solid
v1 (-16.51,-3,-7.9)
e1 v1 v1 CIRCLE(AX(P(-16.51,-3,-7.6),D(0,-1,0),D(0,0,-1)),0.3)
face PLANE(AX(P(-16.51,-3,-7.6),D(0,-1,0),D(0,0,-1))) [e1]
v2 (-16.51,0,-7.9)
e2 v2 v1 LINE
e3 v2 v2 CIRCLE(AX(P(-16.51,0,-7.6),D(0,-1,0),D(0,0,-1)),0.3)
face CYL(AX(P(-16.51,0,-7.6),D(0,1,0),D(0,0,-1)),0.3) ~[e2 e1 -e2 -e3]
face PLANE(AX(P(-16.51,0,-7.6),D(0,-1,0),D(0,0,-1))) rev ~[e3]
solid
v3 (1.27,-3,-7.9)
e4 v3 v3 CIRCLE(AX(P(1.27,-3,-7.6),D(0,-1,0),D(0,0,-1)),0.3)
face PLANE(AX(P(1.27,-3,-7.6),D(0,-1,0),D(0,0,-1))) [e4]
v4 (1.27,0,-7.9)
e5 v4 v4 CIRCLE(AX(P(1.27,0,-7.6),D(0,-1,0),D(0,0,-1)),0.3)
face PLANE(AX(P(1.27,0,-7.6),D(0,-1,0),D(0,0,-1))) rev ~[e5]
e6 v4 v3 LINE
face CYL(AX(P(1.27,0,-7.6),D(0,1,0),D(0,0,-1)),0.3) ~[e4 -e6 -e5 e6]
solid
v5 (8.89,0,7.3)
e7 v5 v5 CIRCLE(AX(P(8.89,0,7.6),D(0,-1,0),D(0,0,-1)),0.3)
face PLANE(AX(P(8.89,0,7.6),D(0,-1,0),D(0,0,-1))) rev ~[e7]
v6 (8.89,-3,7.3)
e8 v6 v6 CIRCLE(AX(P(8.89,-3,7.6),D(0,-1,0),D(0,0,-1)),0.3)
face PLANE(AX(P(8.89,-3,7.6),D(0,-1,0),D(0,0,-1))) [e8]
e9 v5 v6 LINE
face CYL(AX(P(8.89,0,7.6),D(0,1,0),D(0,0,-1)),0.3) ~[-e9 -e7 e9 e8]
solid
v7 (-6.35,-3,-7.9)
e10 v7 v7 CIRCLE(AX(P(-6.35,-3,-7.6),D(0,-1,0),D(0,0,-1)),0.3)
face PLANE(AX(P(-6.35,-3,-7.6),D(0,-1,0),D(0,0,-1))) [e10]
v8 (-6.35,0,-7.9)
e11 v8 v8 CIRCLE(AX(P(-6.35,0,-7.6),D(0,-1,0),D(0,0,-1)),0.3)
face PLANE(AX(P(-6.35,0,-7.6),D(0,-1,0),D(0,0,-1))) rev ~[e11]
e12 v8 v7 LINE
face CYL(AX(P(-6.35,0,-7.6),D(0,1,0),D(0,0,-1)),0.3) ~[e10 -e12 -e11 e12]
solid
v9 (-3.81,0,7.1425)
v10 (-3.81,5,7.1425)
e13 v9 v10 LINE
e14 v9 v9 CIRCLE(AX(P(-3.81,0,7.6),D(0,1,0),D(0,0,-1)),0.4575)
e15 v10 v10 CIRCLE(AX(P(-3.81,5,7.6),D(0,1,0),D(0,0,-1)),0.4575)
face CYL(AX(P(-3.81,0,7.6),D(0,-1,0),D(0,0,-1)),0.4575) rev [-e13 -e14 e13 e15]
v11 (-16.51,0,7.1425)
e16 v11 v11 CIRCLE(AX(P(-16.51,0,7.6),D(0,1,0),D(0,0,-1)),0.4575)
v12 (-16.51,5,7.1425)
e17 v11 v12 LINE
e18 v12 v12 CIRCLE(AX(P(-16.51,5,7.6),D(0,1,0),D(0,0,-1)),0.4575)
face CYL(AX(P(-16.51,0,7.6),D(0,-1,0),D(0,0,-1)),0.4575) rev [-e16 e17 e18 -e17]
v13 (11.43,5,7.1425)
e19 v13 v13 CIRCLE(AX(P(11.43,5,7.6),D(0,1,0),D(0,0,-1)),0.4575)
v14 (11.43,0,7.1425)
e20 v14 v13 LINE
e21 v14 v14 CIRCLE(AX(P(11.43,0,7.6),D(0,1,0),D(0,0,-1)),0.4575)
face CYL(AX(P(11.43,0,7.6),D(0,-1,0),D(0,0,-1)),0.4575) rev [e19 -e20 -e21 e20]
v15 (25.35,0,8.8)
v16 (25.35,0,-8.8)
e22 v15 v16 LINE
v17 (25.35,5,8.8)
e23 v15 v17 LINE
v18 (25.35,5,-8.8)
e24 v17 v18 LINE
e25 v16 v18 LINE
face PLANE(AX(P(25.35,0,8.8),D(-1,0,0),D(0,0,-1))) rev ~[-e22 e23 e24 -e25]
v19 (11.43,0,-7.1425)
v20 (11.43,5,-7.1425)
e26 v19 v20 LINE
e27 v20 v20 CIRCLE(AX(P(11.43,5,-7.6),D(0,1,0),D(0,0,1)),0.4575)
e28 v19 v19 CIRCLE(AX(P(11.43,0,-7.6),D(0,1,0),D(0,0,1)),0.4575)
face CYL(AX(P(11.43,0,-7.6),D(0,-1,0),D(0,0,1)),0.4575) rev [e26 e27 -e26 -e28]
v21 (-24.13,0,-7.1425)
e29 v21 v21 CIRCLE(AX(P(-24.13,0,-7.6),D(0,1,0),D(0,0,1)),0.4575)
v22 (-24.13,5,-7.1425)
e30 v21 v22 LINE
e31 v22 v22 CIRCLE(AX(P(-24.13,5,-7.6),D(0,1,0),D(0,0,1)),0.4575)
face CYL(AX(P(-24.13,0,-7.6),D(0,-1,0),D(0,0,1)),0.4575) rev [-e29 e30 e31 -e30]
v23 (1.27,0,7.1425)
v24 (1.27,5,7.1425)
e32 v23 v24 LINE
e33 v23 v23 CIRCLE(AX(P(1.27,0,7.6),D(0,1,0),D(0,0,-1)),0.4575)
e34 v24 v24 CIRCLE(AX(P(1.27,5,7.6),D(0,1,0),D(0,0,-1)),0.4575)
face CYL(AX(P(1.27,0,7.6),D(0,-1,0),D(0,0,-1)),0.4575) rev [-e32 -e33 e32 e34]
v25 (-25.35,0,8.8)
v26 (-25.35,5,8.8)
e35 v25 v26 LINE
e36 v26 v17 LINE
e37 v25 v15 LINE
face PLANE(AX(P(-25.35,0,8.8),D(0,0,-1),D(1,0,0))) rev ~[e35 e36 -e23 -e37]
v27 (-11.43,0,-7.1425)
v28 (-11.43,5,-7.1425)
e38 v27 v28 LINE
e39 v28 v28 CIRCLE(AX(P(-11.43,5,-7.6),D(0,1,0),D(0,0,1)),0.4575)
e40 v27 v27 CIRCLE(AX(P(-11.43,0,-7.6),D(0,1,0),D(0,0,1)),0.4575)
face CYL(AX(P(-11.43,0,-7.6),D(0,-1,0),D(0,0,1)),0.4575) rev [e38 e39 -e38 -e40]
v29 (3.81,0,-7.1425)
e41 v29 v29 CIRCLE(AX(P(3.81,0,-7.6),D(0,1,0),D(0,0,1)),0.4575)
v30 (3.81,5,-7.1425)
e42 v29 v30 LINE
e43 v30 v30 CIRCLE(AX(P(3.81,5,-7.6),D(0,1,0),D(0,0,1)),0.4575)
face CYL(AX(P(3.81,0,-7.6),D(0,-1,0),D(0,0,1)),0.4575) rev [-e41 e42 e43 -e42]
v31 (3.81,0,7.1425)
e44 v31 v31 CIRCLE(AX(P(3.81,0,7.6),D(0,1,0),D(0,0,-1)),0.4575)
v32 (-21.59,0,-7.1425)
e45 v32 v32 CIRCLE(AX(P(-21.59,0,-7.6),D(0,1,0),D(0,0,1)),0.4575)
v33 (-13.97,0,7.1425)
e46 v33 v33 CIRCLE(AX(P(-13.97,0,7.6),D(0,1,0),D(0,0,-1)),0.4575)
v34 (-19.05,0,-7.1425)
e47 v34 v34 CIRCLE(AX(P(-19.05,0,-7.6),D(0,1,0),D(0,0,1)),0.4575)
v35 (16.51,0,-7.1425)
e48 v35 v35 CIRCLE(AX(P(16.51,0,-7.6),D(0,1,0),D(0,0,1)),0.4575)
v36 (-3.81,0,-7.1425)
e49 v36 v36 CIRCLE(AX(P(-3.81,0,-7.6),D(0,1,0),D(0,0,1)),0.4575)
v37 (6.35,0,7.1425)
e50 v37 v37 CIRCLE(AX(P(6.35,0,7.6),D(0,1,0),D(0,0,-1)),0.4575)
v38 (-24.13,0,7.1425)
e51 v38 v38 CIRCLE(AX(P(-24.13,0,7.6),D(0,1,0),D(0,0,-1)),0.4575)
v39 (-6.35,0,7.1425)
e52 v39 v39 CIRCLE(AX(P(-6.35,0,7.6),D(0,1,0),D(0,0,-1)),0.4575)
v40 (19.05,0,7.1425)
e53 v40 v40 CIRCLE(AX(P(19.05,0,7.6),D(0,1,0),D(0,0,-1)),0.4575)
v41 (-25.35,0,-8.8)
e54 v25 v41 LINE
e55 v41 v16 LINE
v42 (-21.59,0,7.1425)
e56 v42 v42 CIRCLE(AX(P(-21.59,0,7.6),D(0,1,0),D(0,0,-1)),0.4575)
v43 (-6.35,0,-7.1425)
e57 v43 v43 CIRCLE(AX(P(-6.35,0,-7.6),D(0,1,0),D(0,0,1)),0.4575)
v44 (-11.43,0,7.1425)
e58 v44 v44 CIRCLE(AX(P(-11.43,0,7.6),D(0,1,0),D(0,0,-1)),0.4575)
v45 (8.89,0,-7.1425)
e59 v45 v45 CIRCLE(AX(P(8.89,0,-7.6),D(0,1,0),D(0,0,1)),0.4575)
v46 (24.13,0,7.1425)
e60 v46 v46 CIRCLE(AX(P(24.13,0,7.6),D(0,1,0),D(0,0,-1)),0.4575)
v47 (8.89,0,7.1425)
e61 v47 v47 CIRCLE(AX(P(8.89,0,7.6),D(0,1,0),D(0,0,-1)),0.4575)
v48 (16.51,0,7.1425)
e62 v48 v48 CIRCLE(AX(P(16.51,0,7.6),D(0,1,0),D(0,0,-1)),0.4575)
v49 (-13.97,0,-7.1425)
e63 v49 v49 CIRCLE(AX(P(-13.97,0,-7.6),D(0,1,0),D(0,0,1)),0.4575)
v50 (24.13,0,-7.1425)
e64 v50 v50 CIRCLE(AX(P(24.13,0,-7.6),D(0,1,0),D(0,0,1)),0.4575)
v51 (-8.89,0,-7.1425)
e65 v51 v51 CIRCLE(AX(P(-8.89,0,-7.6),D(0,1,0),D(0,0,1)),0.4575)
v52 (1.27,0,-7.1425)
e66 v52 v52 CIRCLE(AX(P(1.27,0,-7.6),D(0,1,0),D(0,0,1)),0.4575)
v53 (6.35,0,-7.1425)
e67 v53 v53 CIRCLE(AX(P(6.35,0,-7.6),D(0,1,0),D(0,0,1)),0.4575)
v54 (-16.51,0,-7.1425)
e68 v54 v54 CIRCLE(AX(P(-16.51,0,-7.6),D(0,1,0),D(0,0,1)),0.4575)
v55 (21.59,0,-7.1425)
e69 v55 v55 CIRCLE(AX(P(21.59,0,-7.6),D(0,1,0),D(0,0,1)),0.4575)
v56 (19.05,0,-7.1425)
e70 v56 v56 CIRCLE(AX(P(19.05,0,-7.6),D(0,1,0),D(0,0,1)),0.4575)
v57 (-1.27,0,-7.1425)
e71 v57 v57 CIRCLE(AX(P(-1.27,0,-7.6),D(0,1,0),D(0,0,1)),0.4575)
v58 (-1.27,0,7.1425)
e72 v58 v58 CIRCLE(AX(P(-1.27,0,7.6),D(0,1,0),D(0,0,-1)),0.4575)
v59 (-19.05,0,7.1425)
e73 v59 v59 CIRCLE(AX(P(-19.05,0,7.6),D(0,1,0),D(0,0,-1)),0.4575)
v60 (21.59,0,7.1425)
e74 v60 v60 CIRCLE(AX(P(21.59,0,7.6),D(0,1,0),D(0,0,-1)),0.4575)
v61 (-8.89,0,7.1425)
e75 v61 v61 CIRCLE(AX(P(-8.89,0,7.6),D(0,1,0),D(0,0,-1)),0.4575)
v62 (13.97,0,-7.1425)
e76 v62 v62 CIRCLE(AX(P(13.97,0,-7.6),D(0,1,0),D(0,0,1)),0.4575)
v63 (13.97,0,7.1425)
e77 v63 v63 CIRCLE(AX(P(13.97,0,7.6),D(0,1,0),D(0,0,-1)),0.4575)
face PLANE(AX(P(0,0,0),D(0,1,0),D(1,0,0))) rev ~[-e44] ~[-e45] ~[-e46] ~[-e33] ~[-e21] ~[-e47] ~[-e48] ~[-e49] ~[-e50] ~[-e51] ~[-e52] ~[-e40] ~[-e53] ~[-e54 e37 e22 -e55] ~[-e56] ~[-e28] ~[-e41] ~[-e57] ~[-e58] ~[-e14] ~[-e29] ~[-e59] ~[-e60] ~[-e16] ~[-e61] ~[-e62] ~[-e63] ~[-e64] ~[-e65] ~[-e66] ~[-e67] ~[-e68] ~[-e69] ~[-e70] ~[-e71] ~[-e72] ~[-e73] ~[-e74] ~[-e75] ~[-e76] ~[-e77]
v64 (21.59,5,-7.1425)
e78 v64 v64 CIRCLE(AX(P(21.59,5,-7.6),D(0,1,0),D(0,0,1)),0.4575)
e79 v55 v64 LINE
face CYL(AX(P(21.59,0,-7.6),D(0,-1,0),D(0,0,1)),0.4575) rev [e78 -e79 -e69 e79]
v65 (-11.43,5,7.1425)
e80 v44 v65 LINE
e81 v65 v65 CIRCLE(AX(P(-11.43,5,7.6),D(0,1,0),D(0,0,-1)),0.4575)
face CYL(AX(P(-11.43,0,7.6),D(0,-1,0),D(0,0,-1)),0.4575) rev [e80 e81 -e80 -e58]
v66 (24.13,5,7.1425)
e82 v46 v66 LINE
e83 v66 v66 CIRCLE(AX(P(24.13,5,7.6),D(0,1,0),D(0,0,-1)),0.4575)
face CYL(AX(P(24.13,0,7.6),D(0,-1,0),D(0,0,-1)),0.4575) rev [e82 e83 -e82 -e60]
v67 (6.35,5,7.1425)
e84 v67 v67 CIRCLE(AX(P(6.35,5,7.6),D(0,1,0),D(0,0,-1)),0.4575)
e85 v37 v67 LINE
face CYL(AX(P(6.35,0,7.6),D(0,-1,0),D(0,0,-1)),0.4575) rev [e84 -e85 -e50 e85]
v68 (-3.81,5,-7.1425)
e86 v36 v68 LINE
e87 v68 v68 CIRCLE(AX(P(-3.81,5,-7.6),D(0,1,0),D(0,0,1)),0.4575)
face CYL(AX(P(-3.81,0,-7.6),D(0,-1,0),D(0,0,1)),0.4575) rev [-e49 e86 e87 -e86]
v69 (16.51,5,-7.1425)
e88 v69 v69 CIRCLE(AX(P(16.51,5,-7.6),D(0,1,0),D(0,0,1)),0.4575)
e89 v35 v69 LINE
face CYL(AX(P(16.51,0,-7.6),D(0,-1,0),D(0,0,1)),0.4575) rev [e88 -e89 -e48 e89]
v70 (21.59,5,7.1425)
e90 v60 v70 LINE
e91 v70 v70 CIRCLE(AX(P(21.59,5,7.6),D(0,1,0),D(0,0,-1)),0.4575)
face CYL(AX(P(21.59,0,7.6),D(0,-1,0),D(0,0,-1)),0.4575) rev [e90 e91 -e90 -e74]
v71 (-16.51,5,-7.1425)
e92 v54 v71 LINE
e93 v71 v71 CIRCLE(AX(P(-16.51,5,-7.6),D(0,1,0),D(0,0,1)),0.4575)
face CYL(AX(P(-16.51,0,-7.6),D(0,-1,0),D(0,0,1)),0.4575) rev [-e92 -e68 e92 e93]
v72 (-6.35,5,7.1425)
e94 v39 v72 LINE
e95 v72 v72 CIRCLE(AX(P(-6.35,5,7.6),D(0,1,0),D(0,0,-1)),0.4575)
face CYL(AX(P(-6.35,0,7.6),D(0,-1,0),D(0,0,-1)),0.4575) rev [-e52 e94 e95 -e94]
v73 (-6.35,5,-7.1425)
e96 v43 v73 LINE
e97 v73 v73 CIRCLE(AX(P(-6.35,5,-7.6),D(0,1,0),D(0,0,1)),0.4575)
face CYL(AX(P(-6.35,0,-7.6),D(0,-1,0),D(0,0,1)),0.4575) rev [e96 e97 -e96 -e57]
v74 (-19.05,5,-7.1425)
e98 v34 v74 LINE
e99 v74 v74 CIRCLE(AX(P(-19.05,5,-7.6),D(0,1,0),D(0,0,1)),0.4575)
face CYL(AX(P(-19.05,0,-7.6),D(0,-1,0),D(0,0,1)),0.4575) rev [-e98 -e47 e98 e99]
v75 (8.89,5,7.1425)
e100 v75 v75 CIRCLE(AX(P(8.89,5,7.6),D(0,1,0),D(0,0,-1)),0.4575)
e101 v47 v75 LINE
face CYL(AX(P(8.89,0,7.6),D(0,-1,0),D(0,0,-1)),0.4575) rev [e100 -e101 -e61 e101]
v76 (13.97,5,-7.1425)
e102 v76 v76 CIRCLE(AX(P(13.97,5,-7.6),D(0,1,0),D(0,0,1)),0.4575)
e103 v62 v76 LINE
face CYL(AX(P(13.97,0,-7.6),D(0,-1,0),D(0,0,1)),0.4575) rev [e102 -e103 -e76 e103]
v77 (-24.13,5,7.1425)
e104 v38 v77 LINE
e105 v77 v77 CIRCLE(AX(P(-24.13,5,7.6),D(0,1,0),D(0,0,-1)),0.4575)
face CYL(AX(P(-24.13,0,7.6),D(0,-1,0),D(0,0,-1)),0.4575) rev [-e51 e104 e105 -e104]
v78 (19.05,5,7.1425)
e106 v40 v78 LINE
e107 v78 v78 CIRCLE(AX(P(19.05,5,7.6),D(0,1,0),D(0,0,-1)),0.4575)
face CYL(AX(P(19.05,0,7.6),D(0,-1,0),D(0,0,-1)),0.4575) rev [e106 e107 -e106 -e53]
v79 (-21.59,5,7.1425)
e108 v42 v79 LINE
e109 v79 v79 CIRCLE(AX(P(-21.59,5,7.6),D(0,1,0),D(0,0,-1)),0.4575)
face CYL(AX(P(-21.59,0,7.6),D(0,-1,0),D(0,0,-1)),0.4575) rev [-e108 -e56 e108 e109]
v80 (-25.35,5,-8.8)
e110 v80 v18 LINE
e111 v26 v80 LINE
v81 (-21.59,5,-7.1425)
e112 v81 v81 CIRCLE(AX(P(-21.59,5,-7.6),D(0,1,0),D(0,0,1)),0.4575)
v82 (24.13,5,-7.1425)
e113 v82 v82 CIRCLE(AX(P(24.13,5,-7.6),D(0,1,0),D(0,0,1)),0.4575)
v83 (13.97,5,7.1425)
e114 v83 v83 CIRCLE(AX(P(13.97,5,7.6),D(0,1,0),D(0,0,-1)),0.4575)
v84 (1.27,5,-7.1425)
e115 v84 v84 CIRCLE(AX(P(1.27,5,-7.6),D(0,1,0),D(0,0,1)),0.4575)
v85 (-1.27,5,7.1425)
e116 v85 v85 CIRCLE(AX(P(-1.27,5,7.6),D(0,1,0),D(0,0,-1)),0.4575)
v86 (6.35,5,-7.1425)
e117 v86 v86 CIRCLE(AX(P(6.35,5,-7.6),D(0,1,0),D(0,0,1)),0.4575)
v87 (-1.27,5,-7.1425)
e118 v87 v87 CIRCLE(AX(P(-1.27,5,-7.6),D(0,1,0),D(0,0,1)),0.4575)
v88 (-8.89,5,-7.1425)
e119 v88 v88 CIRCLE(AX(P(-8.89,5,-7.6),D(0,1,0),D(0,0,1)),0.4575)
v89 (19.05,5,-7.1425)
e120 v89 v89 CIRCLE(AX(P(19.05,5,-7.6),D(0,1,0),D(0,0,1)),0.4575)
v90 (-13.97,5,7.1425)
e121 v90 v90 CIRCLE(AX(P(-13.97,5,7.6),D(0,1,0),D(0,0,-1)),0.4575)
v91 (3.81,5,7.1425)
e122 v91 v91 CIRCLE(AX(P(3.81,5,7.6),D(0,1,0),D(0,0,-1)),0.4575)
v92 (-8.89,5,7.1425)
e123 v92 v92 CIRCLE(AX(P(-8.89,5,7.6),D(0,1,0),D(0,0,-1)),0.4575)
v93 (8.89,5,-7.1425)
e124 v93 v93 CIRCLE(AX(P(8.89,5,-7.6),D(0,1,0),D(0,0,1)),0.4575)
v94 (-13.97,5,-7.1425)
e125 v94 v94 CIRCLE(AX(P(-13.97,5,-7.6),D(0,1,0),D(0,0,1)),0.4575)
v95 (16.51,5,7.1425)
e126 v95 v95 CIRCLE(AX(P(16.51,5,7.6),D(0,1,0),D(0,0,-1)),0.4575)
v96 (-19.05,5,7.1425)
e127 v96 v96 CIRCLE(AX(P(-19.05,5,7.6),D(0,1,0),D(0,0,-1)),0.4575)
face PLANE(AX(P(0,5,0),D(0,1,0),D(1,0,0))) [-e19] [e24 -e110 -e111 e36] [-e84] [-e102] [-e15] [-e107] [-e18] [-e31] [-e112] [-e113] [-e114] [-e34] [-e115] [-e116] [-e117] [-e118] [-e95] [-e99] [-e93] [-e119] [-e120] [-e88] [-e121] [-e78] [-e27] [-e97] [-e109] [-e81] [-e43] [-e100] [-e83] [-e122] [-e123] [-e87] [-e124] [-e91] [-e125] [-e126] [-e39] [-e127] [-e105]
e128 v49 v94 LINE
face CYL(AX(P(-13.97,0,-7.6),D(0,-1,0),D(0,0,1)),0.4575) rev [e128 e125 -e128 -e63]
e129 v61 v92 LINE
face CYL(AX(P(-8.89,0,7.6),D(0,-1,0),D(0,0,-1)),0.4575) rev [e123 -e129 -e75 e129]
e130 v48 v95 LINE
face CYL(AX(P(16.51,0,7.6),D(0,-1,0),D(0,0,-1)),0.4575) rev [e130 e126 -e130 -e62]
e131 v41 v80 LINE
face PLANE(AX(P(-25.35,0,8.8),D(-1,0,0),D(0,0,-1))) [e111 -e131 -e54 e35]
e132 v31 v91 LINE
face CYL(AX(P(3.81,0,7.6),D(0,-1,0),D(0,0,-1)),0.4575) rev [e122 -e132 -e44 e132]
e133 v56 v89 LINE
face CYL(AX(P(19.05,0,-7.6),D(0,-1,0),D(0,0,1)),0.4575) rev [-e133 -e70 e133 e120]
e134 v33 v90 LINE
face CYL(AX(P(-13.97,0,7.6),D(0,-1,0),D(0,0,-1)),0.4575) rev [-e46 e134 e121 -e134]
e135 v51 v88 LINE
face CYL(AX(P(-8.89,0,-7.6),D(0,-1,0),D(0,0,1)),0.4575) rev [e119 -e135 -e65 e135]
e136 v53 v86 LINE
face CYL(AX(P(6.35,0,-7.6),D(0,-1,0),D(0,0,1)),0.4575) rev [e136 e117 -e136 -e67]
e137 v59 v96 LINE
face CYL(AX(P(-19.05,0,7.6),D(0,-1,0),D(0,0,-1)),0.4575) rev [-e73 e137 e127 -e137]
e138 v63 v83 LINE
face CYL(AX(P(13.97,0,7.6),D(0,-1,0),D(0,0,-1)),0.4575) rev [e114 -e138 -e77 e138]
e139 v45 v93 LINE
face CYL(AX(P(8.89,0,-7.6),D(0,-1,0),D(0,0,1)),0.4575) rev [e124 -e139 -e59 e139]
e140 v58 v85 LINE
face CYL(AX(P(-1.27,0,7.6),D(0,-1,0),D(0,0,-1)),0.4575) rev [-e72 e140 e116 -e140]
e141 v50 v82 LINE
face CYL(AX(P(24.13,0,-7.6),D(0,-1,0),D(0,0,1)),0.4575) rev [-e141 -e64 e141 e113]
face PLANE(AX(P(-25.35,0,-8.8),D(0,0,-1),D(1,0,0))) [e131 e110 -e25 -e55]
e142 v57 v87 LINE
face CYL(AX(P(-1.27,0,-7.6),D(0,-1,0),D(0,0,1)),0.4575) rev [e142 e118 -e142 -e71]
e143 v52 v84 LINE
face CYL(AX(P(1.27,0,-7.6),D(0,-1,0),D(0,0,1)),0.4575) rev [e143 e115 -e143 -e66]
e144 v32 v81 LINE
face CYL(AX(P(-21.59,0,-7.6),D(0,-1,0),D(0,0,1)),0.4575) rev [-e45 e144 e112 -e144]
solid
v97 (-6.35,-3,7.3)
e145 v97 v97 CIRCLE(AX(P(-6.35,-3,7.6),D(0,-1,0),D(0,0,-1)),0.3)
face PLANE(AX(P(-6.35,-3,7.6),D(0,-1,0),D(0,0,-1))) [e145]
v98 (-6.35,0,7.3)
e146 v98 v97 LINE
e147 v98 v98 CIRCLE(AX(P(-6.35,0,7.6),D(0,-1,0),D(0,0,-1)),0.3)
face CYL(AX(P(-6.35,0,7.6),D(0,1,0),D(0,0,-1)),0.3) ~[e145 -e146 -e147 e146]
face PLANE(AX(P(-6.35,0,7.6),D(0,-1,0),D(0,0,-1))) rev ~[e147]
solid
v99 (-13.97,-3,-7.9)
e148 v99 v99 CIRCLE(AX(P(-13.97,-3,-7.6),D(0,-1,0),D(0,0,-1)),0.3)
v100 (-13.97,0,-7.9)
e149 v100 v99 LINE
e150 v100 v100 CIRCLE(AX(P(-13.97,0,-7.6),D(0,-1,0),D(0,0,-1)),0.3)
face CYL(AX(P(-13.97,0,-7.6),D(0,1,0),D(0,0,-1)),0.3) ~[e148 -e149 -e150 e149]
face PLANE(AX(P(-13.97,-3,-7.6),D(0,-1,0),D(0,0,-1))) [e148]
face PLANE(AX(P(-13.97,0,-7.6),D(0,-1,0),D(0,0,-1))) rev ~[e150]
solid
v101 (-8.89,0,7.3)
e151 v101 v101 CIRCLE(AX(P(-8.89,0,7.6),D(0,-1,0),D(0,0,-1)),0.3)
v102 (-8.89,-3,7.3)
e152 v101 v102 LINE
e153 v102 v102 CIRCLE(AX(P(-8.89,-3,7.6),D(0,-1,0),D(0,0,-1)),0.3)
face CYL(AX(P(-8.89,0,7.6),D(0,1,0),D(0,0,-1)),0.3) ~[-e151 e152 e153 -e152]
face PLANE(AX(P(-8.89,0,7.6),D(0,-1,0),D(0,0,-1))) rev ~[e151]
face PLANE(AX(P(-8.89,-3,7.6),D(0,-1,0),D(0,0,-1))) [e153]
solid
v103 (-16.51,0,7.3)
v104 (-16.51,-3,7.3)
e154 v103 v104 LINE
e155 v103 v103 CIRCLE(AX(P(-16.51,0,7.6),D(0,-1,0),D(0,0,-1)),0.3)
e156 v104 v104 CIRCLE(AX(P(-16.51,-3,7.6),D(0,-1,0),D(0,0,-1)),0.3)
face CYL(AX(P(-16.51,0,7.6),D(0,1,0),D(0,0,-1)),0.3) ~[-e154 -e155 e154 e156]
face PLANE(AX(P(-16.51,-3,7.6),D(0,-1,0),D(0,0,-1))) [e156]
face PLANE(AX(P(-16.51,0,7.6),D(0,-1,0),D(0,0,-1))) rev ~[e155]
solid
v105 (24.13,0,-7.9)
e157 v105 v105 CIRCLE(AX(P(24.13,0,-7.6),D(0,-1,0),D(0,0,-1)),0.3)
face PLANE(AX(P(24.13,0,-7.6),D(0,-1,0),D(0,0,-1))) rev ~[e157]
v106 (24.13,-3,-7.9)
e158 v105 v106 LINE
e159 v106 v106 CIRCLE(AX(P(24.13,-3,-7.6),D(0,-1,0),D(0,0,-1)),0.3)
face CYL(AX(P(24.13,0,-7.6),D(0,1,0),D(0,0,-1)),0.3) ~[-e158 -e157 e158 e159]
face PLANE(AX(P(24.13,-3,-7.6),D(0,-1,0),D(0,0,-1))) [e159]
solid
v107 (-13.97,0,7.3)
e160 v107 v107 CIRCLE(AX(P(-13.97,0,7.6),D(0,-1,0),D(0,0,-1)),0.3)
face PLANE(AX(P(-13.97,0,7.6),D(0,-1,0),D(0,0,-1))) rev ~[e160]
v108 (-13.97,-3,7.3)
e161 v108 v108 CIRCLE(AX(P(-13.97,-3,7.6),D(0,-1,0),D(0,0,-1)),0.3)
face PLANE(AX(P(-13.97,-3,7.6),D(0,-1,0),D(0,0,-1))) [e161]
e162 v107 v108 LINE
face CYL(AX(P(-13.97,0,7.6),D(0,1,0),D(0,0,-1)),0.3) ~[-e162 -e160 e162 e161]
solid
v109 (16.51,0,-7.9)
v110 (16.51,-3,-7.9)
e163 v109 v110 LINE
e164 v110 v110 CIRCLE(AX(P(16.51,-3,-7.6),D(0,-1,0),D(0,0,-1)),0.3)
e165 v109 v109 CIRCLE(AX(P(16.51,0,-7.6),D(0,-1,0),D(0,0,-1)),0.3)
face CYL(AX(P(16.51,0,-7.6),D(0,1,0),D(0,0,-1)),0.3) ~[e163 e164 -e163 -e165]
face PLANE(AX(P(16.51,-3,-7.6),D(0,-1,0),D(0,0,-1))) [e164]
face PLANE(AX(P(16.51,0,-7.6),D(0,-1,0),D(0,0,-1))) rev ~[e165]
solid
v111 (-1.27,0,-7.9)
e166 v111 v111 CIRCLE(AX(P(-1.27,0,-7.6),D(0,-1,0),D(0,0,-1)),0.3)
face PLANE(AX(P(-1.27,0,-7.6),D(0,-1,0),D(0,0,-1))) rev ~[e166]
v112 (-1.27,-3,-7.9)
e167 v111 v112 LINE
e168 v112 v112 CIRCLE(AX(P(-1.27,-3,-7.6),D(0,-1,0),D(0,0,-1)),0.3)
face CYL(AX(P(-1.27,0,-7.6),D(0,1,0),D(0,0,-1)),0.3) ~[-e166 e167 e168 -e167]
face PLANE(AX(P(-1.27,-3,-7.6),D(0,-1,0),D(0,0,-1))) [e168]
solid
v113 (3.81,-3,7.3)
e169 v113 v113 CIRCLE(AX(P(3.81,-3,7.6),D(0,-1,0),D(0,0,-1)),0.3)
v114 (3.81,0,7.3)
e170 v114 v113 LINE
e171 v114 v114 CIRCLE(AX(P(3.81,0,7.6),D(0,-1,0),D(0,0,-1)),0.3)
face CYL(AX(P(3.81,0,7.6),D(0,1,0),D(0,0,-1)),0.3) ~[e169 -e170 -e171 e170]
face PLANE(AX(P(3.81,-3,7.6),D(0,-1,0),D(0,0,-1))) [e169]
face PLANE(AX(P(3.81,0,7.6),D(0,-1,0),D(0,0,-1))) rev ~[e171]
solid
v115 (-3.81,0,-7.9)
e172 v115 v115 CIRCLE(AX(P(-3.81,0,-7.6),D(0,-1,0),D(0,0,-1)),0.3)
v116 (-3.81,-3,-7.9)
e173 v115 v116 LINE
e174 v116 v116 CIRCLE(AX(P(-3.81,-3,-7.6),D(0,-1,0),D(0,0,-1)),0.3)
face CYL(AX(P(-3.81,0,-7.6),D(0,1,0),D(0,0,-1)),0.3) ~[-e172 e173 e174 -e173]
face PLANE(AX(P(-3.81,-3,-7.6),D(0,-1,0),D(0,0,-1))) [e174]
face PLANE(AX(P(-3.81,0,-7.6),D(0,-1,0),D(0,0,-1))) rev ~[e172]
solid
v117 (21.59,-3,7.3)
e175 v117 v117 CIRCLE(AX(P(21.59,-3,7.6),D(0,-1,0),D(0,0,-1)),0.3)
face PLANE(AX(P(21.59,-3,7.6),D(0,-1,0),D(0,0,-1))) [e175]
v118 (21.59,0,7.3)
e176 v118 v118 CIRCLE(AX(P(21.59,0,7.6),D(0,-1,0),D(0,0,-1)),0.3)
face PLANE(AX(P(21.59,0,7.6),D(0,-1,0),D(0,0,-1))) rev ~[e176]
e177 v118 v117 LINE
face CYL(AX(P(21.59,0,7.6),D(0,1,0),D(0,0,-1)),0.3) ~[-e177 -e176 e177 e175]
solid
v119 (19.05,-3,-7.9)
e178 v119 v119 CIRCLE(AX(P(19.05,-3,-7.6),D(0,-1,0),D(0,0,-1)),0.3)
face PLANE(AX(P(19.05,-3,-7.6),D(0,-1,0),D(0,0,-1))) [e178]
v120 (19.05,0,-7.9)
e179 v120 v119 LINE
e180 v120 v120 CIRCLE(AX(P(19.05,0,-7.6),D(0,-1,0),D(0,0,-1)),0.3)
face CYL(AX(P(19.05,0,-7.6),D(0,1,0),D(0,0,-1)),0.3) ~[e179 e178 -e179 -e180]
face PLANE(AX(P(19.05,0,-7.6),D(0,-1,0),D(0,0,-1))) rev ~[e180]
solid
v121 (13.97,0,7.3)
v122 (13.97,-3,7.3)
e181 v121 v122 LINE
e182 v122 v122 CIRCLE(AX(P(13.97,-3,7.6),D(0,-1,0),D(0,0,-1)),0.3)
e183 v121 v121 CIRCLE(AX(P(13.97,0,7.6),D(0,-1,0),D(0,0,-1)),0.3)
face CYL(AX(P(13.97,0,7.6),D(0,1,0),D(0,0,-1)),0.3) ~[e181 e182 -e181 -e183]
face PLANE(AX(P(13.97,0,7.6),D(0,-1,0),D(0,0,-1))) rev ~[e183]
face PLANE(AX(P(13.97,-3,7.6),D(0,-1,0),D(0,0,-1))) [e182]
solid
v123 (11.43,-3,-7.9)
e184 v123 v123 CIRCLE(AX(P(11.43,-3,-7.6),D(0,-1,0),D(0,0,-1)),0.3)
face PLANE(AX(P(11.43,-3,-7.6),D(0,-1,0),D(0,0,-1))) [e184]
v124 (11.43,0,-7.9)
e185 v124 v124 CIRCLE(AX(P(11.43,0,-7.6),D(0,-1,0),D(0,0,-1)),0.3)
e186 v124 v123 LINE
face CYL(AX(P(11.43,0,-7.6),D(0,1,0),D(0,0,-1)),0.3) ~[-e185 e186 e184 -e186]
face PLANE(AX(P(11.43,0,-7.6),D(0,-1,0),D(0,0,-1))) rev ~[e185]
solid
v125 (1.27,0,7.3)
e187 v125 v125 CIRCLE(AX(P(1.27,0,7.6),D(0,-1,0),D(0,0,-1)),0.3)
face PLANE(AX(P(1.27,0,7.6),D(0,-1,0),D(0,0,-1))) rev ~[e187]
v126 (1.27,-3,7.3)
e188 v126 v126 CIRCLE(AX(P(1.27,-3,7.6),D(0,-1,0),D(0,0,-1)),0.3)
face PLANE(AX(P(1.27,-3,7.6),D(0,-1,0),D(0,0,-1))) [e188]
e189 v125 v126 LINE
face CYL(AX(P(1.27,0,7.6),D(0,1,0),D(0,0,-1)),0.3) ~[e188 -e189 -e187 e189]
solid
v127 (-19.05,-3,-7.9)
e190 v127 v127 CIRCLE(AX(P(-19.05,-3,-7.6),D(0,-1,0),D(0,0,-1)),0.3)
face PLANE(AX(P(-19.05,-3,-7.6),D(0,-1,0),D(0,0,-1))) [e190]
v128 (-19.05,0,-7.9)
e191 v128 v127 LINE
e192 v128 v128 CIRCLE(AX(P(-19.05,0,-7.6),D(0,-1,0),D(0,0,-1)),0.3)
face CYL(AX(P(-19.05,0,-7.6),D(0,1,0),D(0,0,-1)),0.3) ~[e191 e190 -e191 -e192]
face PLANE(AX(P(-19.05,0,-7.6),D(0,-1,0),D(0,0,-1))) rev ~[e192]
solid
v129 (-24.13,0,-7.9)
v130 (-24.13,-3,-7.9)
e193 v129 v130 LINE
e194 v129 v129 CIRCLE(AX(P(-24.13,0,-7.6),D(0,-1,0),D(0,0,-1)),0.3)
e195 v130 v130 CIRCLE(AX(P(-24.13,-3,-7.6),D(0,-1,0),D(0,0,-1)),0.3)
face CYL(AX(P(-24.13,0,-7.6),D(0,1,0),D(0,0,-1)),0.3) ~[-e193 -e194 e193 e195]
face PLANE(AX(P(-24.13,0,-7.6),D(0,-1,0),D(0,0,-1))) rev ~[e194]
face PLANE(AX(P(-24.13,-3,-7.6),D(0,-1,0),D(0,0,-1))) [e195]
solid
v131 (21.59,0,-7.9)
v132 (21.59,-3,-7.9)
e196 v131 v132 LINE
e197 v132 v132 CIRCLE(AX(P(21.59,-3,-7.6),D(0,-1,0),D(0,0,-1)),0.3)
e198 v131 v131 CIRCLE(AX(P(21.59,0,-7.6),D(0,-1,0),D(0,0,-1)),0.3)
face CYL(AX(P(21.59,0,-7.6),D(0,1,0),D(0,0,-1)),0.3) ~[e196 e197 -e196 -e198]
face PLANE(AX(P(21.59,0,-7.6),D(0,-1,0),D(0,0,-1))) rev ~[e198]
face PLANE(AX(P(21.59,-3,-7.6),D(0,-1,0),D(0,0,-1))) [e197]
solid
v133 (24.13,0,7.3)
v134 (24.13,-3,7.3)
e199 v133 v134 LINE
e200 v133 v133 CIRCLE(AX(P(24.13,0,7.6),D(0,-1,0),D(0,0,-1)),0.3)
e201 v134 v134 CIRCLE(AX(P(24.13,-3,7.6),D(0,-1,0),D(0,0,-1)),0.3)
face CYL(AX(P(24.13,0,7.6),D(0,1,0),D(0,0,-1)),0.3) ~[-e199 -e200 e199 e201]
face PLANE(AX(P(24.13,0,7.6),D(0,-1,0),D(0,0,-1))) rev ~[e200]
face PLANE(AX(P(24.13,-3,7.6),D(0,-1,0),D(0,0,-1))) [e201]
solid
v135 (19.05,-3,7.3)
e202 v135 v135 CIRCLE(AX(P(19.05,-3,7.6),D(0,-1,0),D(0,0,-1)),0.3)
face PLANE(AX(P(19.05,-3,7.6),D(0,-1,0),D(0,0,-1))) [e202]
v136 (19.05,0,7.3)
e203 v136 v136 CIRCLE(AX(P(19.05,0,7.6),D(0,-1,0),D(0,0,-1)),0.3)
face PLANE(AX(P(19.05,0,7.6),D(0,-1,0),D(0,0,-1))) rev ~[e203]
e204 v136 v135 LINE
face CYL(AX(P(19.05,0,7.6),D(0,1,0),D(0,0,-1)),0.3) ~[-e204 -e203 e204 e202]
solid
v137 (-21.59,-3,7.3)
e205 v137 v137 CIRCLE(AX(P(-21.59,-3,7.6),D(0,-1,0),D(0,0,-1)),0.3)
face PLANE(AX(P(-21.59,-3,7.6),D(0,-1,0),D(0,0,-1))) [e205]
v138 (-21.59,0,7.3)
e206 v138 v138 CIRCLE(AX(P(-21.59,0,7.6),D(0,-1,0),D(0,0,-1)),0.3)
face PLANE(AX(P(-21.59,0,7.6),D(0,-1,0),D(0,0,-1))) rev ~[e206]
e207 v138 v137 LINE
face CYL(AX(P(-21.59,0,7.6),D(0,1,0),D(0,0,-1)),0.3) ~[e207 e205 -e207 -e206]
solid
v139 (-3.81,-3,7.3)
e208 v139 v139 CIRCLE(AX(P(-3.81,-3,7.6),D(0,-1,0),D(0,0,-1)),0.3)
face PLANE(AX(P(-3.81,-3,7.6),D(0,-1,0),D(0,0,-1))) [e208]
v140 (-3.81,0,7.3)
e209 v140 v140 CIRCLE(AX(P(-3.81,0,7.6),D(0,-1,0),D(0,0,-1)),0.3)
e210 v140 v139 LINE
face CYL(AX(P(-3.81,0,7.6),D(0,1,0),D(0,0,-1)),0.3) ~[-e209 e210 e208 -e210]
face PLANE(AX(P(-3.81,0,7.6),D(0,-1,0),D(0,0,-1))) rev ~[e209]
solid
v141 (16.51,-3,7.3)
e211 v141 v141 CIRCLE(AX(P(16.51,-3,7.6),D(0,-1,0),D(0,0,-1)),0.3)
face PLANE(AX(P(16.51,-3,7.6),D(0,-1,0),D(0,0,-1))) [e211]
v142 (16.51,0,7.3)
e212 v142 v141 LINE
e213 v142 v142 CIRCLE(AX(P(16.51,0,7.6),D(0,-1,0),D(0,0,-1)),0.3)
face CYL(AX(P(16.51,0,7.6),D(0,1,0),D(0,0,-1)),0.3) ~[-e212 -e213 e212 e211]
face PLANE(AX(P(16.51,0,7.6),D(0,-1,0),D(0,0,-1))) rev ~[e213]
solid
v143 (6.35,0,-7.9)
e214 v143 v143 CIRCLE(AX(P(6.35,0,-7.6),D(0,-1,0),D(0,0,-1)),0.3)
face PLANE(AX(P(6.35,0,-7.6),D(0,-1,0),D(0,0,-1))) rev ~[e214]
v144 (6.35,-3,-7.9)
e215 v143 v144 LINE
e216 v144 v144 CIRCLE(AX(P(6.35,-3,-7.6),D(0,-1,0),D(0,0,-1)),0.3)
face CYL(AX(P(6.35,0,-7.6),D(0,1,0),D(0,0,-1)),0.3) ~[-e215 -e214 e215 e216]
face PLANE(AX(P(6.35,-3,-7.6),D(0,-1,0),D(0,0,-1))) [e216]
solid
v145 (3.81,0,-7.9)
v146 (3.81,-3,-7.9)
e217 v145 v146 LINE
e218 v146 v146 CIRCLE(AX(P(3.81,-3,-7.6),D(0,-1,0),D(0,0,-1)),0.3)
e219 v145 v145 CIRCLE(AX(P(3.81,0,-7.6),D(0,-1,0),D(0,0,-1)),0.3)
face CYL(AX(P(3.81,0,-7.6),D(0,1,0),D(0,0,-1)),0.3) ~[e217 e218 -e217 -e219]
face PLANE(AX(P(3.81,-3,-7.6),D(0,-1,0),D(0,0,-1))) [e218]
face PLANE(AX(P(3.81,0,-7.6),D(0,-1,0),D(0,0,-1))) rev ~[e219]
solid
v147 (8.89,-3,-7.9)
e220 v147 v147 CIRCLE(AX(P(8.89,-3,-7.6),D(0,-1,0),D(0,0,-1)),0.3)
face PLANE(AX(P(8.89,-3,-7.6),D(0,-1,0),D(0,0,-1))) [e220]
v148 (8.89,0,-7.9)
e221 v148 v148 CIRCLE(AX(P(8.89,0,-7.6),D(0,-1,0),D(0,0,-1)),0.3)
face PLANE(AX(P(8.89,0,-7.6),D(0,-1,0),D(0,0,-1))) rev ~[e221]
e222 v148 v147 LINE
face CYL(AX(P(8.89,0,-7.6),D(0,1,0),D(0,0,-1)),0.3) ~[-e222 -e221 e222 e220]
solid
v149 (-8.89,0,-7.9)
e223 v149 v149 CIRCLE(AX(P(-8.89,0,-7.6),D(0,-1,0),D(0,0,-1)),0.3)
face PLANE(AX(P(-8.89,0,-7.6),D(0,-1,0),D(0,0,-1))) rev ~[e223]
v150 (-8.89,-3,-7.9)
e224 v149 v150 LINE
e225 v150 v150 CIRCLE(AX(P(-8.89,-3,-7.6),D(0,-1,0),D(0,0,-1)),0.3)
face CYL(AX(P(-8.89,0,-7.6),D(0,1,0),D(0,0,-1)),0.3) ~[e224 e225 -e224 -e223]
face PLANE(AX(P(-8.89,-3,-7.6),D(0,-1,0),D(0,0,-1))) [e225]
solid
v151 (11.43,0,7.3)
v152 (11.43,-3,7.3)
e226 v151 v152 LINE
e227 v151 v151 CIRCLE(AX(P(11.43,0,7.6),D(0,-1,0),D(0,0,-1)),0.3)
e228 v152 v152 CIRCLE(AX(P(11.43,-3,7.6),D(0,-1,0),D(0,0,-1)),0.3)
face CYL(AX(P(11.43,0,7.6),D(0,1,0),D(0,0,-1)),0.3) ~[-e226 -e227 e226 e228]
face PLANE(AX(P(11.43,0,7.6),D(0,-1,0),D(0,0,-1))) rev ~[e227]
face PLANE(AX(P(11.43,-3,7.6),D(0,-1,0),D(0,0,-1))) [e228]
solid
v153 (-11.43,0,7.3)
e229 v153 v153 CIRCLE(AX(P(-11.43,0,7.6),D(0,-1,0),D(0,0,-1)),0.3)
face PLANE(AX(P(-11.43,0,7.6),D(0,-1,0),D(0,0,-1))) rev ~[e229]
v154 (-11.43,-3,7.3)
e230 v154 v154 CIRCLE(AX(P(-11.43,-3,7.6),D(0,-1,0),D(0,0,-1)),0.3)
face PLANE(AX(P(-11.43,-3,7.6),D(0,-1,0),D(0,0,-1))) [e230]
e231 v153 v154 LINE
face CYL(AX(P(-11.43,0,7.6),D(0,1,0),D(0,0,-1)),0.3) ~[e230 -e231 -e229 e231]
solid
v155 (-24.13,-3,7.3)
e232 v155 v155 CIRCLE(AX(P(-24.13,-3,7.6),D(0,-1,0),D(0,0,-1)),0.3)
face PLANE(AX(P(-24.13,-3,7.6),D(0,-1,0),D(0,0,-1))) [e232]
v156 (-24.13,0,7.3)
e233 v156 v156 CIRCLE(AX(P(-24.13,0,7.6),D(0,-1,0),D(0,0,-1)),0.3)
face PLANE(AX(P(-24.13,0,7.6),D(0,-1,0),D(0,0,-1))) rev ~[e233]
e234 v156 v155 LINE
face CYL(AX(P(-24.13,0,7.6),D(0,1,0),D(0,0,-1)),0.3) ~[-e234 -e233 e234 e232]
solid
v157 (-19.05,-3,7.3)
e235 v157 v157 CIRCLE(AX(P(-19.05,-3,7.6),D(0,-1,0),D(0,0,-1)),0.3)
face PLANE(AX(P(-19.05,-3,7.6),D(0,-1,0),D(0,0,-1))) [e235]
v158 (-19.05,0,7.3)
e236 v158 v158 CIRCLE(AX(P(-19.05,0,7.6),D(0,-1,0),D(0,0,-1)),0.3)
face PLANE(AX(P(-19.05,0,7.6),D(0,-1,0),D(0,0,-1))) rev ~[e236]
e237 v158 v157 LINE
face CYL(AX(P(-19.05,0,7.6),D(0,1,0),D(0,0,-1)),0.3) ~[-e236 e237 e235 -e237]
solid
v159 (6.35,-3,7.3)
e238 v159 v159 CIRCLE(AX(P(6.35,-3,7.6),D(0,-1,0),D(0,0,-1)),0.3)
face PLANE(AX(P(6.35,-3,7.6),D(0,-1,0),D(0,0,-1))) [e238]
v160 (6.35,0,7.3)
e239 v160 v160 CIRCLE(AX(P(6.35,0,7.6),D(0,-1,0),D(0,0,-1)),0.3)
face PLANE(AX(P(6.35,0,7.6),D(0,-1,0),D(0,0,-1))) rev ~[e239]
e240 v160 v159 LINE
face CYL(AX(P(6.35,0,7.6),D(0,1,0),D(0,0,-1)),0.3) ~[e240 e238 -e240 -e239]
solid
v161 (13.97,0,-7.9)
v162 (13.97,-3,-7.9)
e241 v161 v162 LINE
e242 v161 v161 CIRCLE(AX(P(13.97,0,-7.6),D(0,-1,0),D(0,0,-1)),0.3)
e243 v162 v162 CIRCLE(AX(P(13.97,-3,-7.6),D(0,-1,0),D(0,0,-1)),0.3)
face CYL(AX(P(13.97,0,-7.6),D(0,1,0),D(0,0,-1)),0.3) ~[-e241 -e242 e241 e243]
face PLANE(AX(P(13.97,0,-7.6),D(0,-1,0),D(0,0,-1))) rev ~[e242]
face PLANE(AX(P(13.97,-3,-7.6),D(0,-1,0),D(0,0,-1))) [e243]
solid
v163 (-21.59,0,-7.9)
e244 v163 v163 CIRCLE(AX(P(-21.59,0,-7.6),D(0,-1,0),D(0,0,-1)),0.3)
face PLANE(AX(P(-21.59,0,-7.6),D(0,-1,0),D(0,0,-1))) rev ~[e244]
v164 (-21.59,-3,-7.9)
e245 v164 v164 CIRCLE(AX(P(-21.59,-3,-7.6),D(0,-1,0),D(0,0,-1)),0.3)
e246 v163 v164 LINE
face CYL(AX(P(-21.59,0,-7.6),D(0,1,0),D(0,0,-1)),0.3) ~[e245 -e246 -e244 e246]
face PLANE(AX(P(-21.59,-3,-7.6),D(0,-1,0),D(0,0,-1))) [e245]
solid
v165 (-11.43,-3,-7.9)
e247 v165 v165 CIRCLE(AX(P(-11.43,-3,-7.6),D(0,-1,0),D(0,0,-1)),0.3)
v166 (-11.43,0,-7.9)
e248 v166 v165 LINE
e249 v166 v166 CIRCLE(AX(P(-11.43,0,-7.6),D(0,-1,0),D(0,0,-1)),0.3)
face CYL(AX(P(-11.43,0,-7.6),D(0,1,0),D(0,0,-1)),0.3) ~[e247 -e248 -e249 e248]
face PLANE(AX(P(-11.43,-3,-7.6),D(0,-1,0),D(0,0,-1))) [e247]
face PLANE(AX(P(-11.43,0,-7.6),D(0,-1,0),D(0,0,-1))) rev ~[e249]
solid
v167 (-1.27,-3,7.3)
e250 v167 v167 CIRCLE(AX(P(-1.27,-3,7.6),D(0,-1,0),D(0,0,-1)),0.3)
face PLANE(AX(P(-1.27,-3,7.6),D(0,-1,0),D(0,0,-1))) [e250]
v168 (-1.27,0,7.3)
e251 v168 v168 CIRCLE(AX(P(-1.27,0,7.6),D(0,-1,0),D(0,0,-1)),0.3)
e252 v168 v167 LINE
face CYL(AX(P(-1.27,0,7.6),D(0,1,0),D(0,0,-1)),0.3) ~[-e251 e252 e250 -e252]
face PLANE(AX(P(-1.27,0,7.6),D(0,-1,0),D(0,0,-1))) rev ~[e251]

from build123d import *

# Parameters (mm, degrees)
SKETCH_1_W         = 50.7
SKETCH_1_H         = 17.6
SKETCH_1_R         = 0.4575
EXTRUDE_1_DEPTH    = 5
SKETCH_2_R         = 0.3
EXTRUDE_2_DEPTH    = 3
EXTRUDE_2_2_DEPTH  = 3
EXTRUDE_2_3_DEPTH  = 3
EXTRUDE_2_4_DEPTH  = 3
EXTRUDE_2_5_DEPTH  = 3
EXTRUDE_2_6_DEPTH  = 3
EXTRUDE_2_7_DEPTH  = 3
EXTRUDE_2_8_DEPTH  = 3
EXTRUDE_2_9_DEPTH  = 3
EXTRUDE_2_10_DEPTH = 3
EXTRUDE_2_11_DEPTH = 3
EXTRUDE_2_12_DEPTH = 3
EXTRUDE_2_13_DEPTH = 3
EXTRUDE_2_14_DEPTH = 3
EXTRUDE_2_15_DEPTH = 3
EXTRUDE_2_16_DEPTH = 3
EXTRUDE_2_17_DEPTH = 3
EXTRUDE_2_18_DEPTH = 3
EXTRUDE_2_19_DEPTH = 3
EXTRUDE_2_20_DEPTH = 3
EXTRUDE_2_21_DEPTH = 3
EXTRUDE_2_22_DEPTH = 3
EXTRUDE_2_23_DEPTH = 3
EXTRUDE_2_24_DEPTH = 3
EXTRUDE_2_25_DEPTH = 3
EXTRUDE_2_26_DEPTH = 3
EXTRUDE_2_27_DEPTH = 3
EXTRUDE_2_28_DEPTH = 3
EXTRUDE_2_29_DEPTH = 3
EXTRUDE_2_30_DEPTH = 3
EXTRUDE_2_31_DEPTH = 3
EXTRUDE_2_32_DEPTH = 3
EXTRUDE_2_33_DEPTH = 3
EXTRUDE_2_34_DEPTH = 3
EXTRUDE_2_35_DEPTH = 3
EXTRUDE_2_36_DEPTH = 3
EXTRUDE_2_37_DEPTH = 3
EXTRUDE_2_38_DEPTH = 3
EXTRUDE_2_39_DEPTH = 3
EXTRUDE_2_40_DEPTH = 3


with BuildPart() as part:
    # Эскиз1 → Бобышка-Вытянуть1 (new body)
    with BuildSketch(Plane(origin=(0, 0, 0), x_dir=(1, 0, 0), z_dir=(0, 1, 0))):
        Rectangle(SKETCH_1_W, SKETCH_1_H)
        with Locations(Location((-1.27, 7.6, 0), (0, 0, 270))):
            Circle(SKETCH_1_R, mode=Mode.SUBTRACT)
        with Locations(Location((1.27, 7.6, 0), (0, 0, 270))):
            Circle(SKETCH_1_R, mode=Mode.SUBTRACT)
        with Locations(Location((3.81, 7.6, 0), (0, 0, 270))):
            Circle(SKETCH_1_R, mode=Mode.SUBTRACT)
        with Locations(Location((6.35, 7.6, 0), (0, 0, 270))):
            Circle(SKETCH_1_R, mode=Mode.SUBTRACT)
        with Locations(Location((8.89, 7.6, 0), (0, 0, 270))):
            Circle(SKETCH_1_R, mode=Mode.SUBTRACT)
        with Locations(Location((11.43, 7.6, 0), (0, 0, 270))):
            Circle(SKETCH_1_R, mode=Mode.SUBTRACT)
        with Locations(Location((13.97, 7.6, 0), (0, 0, 270))):
            Circle(SKETCH_1_R, mode=Mode.SUBTRACT)
        with Locations(Location((16.51, 7.6, 0), (0, 0, 270))):
            Circle(SKETCH_1_R, mode=Mode.SUBTRACT)
        with Locations(Location((19.05, 7.6, 0), (0, 0, 270))):
            Circle(SKETCH_1_R, mode=Mode.SUBTRACT)
        with Locations(Location((21.59, 7.6, 0), (0, 0, 270))):
            Circle(SKETCH_1_R, mode=Mode.SUBTRACT)
        with Locations(Location((24.13, 7.6, 0), (0, 0, 270))):
            Circle(SKETCH_1_R, mode=Mode.SUBTRACT)
        with Locations(Location((24.13, -7.6, 0), (0, 0, 90))):
            Circle(SKETCH_1_R, mode=Mode.SUBTRACT)
        with Locations(Location((21.59, -7.6, 0), (0, 0, 90))):
            Circle(SKETCH_1_R, mode=Mode.SUBTRACT)
        with Locations(Location((19.05, -7.6, 0), (0, 0, 90))):
            Circle(SKETCH_1_R, mode=Mode.SUBTRACT)
        with Locations(Location((16.51, -7.6, 0), (0, 0, 90))):
            Circle(SKETCH_1_R, mode=Mode.SUBTRACT)
        with Locations(Location((13.97, -7.6, 0), (0, 0, 90))):
            Circle(SKETCH_1_R, mode=Mode.SUBTRACT)
        with Locations(Location((11.43, -7.6, 0), (0, 0, 90))):
            Circle(SKETCH_1_R, mode=Mode.SUBTRACT)
        with Locations(Location((8.89, -7.6, 0), (0, 0, 90))):
            Circle(SKETCH_1_R, mode=Mode.SUBTRACT)
        with Locations(Location((6.35, -7.6, 0), (0, 0, 90))):
            Circle(SKETCH_1_R, mode=Mode.SUBTRACT)
        with Locations(Location((3.81, -7.6, 0), (0, 0, 90))):
            Circle(SKETCH_1_R, mode=Mode.SUBTRACT)
        with Locations(Location((1.27, -7.6, 0), (0, 0, 90))):
            Circle(SKETCH_1_R, mode=Mode.SUBTRACT)
        with Locations(Location((-1.27, -7.6, 0), (0, 0, 90))):
            Circle(SKETCH_1_R, mode=Mode.SUBTRACT)
        with Locations(Location((-3.81, -7.6, 0), (0, 0, 90))):
            Circle(SKETCH_1_R, mode=Mode.SUBTRACT)
        with Locations(Location((-3.81, 7.6, 0), (0, 0, 270))):
            Circle(SKETCH_1_R, mode=Mode.SUBTRACT)
        with Locations(Location((-6.35, -7.6, 0), (0, 0, 90))):
            Circle(SKETCH_1_R, mode=Mode.SUBTRACT)
        with Locations(Location((-6.35, 7.6, 0), (0, 0, 270))):
            Circle(SKETCH_1_R, mode=Mode.SUBTRACT)
        with Locations(Location((-8.89, -7.6, 0), (0, 0, 90))):
            Circle(SKETCH_1_R, mode=Mode.SUBTRACT)
        with Locations(Location((-8.89, 7.6, 0), (0, 0, 270))):
            Circle(SKETCH_1_R, mode=Mode.SUBTRACT)
        with Locations(Location((-11.43, -7.6, 0), (0, 0, 90))):
            Circle(SKETCH_1_R, mode=Mode.SUBTRACT)
        with Locations(Location((-11.43, 7.6, 0), (0, 0, 270))):
            Circle(SKETCH_1_R, mode=Mode.SUBTRACT)
        with Locations(Location((-13.97, -7.6, 0), (0, 0, 90))):
            Circle(SKETCH_1_R, mode=Mode.SUBTRACT)
        with Locations(Location((-13.97, 7.6, 0), (0, 0, 270))):
            Circle(SKETCH_1_R, mode=Mode.SUBTRACT)
        with Locations(Location((-16.51, -7.6, 0), (0, 0, 90))):
            Circle(SKETCH_1_R, mode=Mode.SUBTRACT)
        with Locations(Location((-16.51, 7.6, 0), (0, 0, 270))):
            Circle(SKETCH_1_R, mode=Mode.SUBTRACT)
        with Locations(Location((-19.05, -7.6, 0), (0, 0, 90))):
            Circle(SKETCH_1_R, mode=Mode.SUBTRACT)
        with Locations(Location((-19.05, 7.6, 0), (0, 0, 270))):
            Circle(SKETCH_1_R, mode=Mode.SUBTRACT)
        with Locations(Location((-21.59, -7.6, 0), (0, 0, 90))):
            Circle(SKETCH_1_R, mode=Mode.SUBTRACT)
        with Locations(Location((-21.59, 7.6, 0), (0, 0, 270))):
            Circle(SKETCH_1_R, mode=Mode.SUBTRACT)
        with Locations(Location((-24.13, -7.6, 0), (0, 0, 90))):
            Circle(SKETCH_1_R, mode=Mode.SUBTRACT)
        with Locations(Location((-24.13, 7.6, 0), (0, 0, 270))):
            Circle(SKETCH_1_R, mode=Mode.SUBTRACT)
    extrude(amount=EXTRUDE_1_DEPTH)


with BuildPart() as body_2:
    # Эскиз2 → Бобышка-Вытянуть2 (new body)
    with BuildSketch(Plane.XZ):
        with Locations(Location((-24.13, 7.6, 0), (0, 0, 270))):
            Circle(SKETCH_2_R)
    extrude(amount=EXTRUDE_2_DEPTH)


with BuildPart() as body_3:
    # Эскиз2 → Extrude 2 2 (new body)
    with BuildSketch(Plane.XZ):
        with Locations(Location((-21.59, 7.6, 0), (0, 0, 270))):
            Circle(SKETCH_2_R)
    extrude(amount=EXTRUDE_2_2_DEPTH)


with BuildPart() as body_4:
    # Эскиз2 → Extrude 2 3 (new body)
    with BuildSketch(Plane.XZ):
        with Locations(Location((-19.05, 7.6, 0), (0, 0, 270))):
            Circle(SKETCH_2_R)
    extrude(amount=EXTRUDE_2_3_DEPTH)


with BuildPart() as body_5:
    # Эскиз2 → Extrude 2 4 (new body)
    with BuildSketch(Plane.XZ):
        with Locations(Location((-16.51, 7.6, 0), (0, 0, 270))):
            Circle(SKETCH_2_R)
    extrude(amount=EXTRUDE_2_4_DEPTH)


with BuildPart() as body_6:
    # Эскиз2 → Extrude 2 5 (new body)
    with BuildSketch(Plane.XZ):
        with Locations(Location((-13.97, 7.6, 0), (0, 0, 270))):
            Circle(SKETCH_2_R)
    extrude(amount=EXTRUDE_2_5_DEPTH)


with BuildPart() as body_7:
    # Эскиз2 → Extrude 2 6 (new body)
    with BuildSketch(Plane.XZ):
        with Locations(Location((-11.43, 7.6, 0), (0, 0, 270))):
            Circle(SKETCH_2_R)
    extrude(amount=EXTRUDE_2_6_DEPTH)


with BuildPart() as body_8:
    # Эскиз2 → Extrude 2 7 (new body)
    with BuildSketch(Plane.XZ):
        with Locations(Location((-8.89, 7.6, 0), (0, 0, 270))):
            Circle(SKETCH_2_R)
    extrude(amount=EXTRUDE_2_7_DEPTH)


with BuildPart() as body_9:
    # Эскиз2 → Extrude 2 8 (new body)
    with BuildSketch(Plane.XZ):
        with Locations(Location((-6.35, 7.6, 0), (0, 0, 270))):
            Circle(SKETCH_2_R)
    extrude(amount=EXTRUDE_2_8_DEPTH)


with BuildPart() as body_10:
    # Эскиз2 → Extrude 2 9 (new body)
    with BuildSketch(Plane.XZ):
        with Locations(Location((-3.81, 7.6, 0), (0, 0, 270))):
            Circle(SKETCH_2_R)
    extrude(amount=EXTRUDE_2_9_DEPTH)


with BuildPart() as body_11:
    # Эскиз2 → Extrude 2 10 (new body)
    with BuildSketch(Plane.XZ):
        with Locations(Location((-1.27, 7.6, 0), (0, 0, 270))):
            Circle(SKETCH_2_R)
    extrude(amount=EXTRUDE_2_10_DEPTH)


with BuildPart() as body_12:
    # Эскиз2 → Extrude 2 11 (new body)
    with BuildSketch(Plane.XZ):
        with Locations(Location((1.27, 7.6, 0), (0, 0, 270))):
            Circle(SKETCH_2_R)
    extrude(amount=EXTRUDE_2_11_DEPTH)


with BuildPart() as body_13:
    # Эскиз2 → Extrude 2 12 (new body)
    with BuildSketch(Plane.XZ):
        with Locations(Location((3.81, 7.6, 0), (0, 0, 270))):
            Circle(SKETCH_2_R)
    extrude(amount=EXTRUDE_2_12_DEPTH)


with BuildPart() as body_14:
    # Эскиз2 → Extrude 2 13 (new body)
    with BuildSketch(Plane.XZ):
        with Locations(Location((6.35, 7.6, 0), (0, 0, 270))):
            Circle(SKETCH_2_R)
    extrude(amount=EXTRUDE_2_13_DEPTH)


with BuildPart() as body_15:
    # Эскиз2 → Extrude 2 14 (new body)
    with BuildSketch(Plane.XZ):
        with Locations(Location((8.89, 7.6, 0), (0, 0, 270))):
            Circle(SKETCH_2_R)
    extrude(amount=EXTRUDE_2_14_DEPTH)


with BuildPart() as body_16:
    # Эскиз2 → Extrude 2 15 (new body)
    with BuildSketch(Plane.XZ):
        with Locations(Location((11.43, 7.6, 0), (0, 0, 270))):
            Circle(SKETCH_2_R)
    extrude(amount=EXTRUDE_2_15_DEPTH)


with BuildPart() as body_17:
    # Эскиз2 → Extrude 2 16 (new body)
    with BuildSketch(Plane.XZ):
        with Locations(Location((13.97, 7.6, 0), (0, 0, 270))):
            Circle(SKETCH_2_R)
    extrude(amount=EXTRUDE_2_16_DEPTH)


with BuildPart() as body_18:
    # Эскиз2 → Extrude 2 17 (new body)
    with BuildSketch(Plane.XZ):
        with Locations(Location((16.51, 7.6, 0), (0, 0, 270))):
            Circle(SKETCH_2_R)
    extrude(amount=EXTRUDE_2_17_DEPTH)


with BuildPart() as body_19:
    # Эскиз2 → Extrude 2 18 (new body)
    with BuildSketch(Plane.XZ):
        with Locations(Location((19.05, 7.6, 0), (0, 0, 270))):
            Circle(SKETCH_2_R)
    extrude(amount=EXTRUDE_2_18_DEPTH)


with BuildPart() as body_20:
    # Эскиз2 → Extrude 2 19 (new body)
    with BuildSketch(Plane.XZ):
        with Locations(Location((21.59, 7.6, 0), (0, 0, 270))):
            Circle(SKETCH_2_R)
    extrude(amount=EXTRUDE_2_19_DEPTH)


with BuildPart() as body_21:
    # Эскиз2 → Extrude 2 20 (new body)
    with BuildSketch(Plane.XZ):
        with Locations(Location((24.13, 7.6, 0), (0, 0, 270))):
            Circle(SKETCH_2_R)
    extrude(amount=EXTRUDE_2_20_DEPTH)


with BuildPart() as body_22:
    # Эскиз2 → Extrude 2 21 (new body)
    with BuildSketch(Plane.XZ):
        with Locations(Location((-21.59, -7.6, 0), (0, 0, 270))):
            Circle(SKETCH_2_R)
    extrude(amount=EXTRUDE_2_21_DEPTH)


with BuildPart() as body_23:
    # Эскиз2 → Extrude 2 22 (new body)
    with BuildSketch(Plane.XZ):
        with Locations(Location((-19.05, -7.6, 0), (0, 0, 270))):
            Circle(SKETCH_2_R)
    extrude(amount=EXTRUDE_2_22_DEPTH)


with BuildPart() as body_24:
    # Эскиз2 → Extrude 2 23 (new body)
    with BuildSketch(Plane.XZ):
        with Locations(Location((-16.51, -7.6, 0), (0, 0, 270))):
            Circle(SKETCH_2_R)
    extrude(amount=EXTRUDE_2_23_DEPTH)


with BuildPart() as body_25:
    # Эскиз2 → Extrude 2 24 (new body)
    with BuildSketch(Plane.XZ):
        with Locations(Location((-13.97, -7.6, 0), (0, 0, 270))):
            Circle(SKETCH_2_R)
    extrude(amount=EXTRUDE_2_24_DEPTH)


with BuildPart() as body_26:
    # Эскиз2 → Extrude 2 25 (new body)
    with BuildSketch(Plane.XZ):
        with Locations(Location((-11.43, -7.6, 0), (0, 0, 270))):
            Circle(SKETCH_2_R)
    extrude(amount=EXTRUDE_2_25_DEPTH)


with BuildPart() as body_27:
    # Эскиз2 → Extrude 2 26 (new body)
    with BuildSketch(Plane.XZ):
        with Locations(Location((-8.89, -7.6, 0), (0, 0, 270))):
            Circle(SKETCH_2_R)
    extrude(amount=EXTRUDE_2_26_DEPTH)


with BuildPart() as body_28:
    # Эскиз2 → Extrude 2 27 (new body)
    with BuildSketch(Plane.XZ):
        with Locations(Location((-6.35, -7.6, 0), (0, 0, 270))):
            Circle(SKETCH_2_R)
    extrude(amount=EXTRUDE_2_27_DEPTH)


with BuildPart() as body_29:
    # Эскиз2 → Extrude 2 28 (new body)
    with BuildSketch(Plane.XZ):
        with Locations(Location((-3.81, -7.6, 0), (0, 0, 270))):
            Circle(SKETCH_2_R)
    extrude(amount=EXTRUDE_2_28_DEPTH)


with BuildPart() as body_30:
    # Эскиз2 → Extrude 2 29 (new body)
    with BuildSketch(Plane.XZ):
        with Locations(Location((-1.27, -7.6, 0), (0, 0, 270))):
            Circle(SKETCH_2_R)
    extrude(amount=EXTRUDE_2_29_DEPTH)


with BuildPart() as body_31:
    # Эскиз2 → Extrude 2 30 (new body)
    with BuildSketch(Plane.XZ):
        with Locations(Location((1.27, -7.6, 0), (0, 0, 270))):
            Circle(SKETCH_2_R)
    extrude(amount=EXTRUDE_2_30_DEPTH)


with BuildPart() as body_32:
    # Эскиз2 → Extrude 2 31 (new body)
    with BuildSketch(Plane.XZ):
        with Locations(Location((3.81, -7.6, 0), (0, 0, 270))):
            Circle(SKETCH_2_R)
    extrude(amount=EXTRUDE_2_31_DEPTH)


with BuildPart() as body_33:
    # Эскиз2 → Extrude 2 32 (new body)
    with BuildSketch(Plane.XZ):
        with Locations(Location((6.35, -7.6, 0), (0, 0, 270))):
            Circle(SKETCH_2_R)
    extrude(amount=EXTRUDE_2_32_DEPTH)


with BuildPart() as body_34:
    # Эскиз2 → Extrude 2 33 (new body)
    with BuildSketch(Plane.XZ):
        with Locations(Location((8.89, -7.6, 0), (0, 0, 270))):
            Circle(SKETCH_2_R)
    extrude(amount=EXTRUDE_2_33_DEPTH)


with BuildPart() as body_35:
    # Эскиз2 → Extrude 2 34 (new body)
    with BuildSketch(Plane.XZ):
        with Locations(Location((11.43, -7.6, 0), (0, 0, 270))):
            Circle(SKETCH_2_R)
    extrude(amount=EXTRUDE_2_34_DEPTH)


with BuildPart() as body_36:
    # Эскиз2 → Extrude 2 35 (new body)
    with BuildSketch(Plane.XZ):
        with Locations(Location((13.97, -7.6, 0), (0, 0, 270))):
            Circle(SKETCH_2_R)
    extrude(amount=EXTRUDE_2_35_DEPTH)


with BuildPart() as body_37:
    # Эскиз2 → Extrude 2 36 (new body)
    with BuildSketch(Plane.XZ):
        with Locations(Location((16.51, -7.6, 0), (0, 0, 270))):
            Circle(SKETCH_2_R)
    extrude(amount=EXTRUDE_2_36_DEPTH)


with BuildPart() as body_38:
    # Эскиз2 → Extrude 2 37 (new body)
    with BuildSketch(Plane.XZ):
        with Locations(Location((19.05, -7.6, 0), (0, 0, 270))):
            Circle(SKETCH_2_R)
    extrude(amount=EXTRUDE_2_37_DEPTH)


with BuildPart() as body_39:
    # Эскиз2 → Extrude 2 38 (new body)
    with BuildSketch(Plane.XZ):
        with Locations(Location((21.59, -7.6, 0), (0, 0, 270))):
            Circle(SKETCH_2_R)
    extrude(amount=EXTRUDE_2_38_DEPTH)


with BuildPart() as body_40:
    # Эскиз2 → Extrude 2 39 (new body)
    with BuildSketch(Plane.XZ):
        with Locations(Location((24.13, -7.6, 0), (0, 0, 270))):
            Circle(SKETCH_2_R)
    extrude(amount=EXTRUDE_2_39_DEPTH)


with BuildPart() as body_41:
    # Эскиз2 → Extrude 2 40 (new body)
    with BuildSketch(Plane.XZ):
        with Locations(Location((-24.13, -7.6, 0), (0, 0, 270))):
            Circle(SKETCH_2_R)
    extrude(amount=EXTRUDE_2_40_DEPTH)


solid = Compound([part.part, body_2.part, body_3.part, body_4.part, body_5.part, body_6.part, body_7.part, body_8.part, body_9.part, body_10.part, body_11.part, body_12.part, body_13.part, body_14.part, body_15.part, body_16.part, body_17.part, body_18.part, body_19.part, body_20.part, body_21.part, body_22.part, body_23.part, body_24.part, body_25.part, body_26.part, body_27.part, body_28.part, body_29.part, body_30.part, body_31.part, body_32.part, body_33.part, body_34.part, body_35.part, body_36.part, body_37.part, body_38.part, body_39.part, body_40.part, body_41.part])
